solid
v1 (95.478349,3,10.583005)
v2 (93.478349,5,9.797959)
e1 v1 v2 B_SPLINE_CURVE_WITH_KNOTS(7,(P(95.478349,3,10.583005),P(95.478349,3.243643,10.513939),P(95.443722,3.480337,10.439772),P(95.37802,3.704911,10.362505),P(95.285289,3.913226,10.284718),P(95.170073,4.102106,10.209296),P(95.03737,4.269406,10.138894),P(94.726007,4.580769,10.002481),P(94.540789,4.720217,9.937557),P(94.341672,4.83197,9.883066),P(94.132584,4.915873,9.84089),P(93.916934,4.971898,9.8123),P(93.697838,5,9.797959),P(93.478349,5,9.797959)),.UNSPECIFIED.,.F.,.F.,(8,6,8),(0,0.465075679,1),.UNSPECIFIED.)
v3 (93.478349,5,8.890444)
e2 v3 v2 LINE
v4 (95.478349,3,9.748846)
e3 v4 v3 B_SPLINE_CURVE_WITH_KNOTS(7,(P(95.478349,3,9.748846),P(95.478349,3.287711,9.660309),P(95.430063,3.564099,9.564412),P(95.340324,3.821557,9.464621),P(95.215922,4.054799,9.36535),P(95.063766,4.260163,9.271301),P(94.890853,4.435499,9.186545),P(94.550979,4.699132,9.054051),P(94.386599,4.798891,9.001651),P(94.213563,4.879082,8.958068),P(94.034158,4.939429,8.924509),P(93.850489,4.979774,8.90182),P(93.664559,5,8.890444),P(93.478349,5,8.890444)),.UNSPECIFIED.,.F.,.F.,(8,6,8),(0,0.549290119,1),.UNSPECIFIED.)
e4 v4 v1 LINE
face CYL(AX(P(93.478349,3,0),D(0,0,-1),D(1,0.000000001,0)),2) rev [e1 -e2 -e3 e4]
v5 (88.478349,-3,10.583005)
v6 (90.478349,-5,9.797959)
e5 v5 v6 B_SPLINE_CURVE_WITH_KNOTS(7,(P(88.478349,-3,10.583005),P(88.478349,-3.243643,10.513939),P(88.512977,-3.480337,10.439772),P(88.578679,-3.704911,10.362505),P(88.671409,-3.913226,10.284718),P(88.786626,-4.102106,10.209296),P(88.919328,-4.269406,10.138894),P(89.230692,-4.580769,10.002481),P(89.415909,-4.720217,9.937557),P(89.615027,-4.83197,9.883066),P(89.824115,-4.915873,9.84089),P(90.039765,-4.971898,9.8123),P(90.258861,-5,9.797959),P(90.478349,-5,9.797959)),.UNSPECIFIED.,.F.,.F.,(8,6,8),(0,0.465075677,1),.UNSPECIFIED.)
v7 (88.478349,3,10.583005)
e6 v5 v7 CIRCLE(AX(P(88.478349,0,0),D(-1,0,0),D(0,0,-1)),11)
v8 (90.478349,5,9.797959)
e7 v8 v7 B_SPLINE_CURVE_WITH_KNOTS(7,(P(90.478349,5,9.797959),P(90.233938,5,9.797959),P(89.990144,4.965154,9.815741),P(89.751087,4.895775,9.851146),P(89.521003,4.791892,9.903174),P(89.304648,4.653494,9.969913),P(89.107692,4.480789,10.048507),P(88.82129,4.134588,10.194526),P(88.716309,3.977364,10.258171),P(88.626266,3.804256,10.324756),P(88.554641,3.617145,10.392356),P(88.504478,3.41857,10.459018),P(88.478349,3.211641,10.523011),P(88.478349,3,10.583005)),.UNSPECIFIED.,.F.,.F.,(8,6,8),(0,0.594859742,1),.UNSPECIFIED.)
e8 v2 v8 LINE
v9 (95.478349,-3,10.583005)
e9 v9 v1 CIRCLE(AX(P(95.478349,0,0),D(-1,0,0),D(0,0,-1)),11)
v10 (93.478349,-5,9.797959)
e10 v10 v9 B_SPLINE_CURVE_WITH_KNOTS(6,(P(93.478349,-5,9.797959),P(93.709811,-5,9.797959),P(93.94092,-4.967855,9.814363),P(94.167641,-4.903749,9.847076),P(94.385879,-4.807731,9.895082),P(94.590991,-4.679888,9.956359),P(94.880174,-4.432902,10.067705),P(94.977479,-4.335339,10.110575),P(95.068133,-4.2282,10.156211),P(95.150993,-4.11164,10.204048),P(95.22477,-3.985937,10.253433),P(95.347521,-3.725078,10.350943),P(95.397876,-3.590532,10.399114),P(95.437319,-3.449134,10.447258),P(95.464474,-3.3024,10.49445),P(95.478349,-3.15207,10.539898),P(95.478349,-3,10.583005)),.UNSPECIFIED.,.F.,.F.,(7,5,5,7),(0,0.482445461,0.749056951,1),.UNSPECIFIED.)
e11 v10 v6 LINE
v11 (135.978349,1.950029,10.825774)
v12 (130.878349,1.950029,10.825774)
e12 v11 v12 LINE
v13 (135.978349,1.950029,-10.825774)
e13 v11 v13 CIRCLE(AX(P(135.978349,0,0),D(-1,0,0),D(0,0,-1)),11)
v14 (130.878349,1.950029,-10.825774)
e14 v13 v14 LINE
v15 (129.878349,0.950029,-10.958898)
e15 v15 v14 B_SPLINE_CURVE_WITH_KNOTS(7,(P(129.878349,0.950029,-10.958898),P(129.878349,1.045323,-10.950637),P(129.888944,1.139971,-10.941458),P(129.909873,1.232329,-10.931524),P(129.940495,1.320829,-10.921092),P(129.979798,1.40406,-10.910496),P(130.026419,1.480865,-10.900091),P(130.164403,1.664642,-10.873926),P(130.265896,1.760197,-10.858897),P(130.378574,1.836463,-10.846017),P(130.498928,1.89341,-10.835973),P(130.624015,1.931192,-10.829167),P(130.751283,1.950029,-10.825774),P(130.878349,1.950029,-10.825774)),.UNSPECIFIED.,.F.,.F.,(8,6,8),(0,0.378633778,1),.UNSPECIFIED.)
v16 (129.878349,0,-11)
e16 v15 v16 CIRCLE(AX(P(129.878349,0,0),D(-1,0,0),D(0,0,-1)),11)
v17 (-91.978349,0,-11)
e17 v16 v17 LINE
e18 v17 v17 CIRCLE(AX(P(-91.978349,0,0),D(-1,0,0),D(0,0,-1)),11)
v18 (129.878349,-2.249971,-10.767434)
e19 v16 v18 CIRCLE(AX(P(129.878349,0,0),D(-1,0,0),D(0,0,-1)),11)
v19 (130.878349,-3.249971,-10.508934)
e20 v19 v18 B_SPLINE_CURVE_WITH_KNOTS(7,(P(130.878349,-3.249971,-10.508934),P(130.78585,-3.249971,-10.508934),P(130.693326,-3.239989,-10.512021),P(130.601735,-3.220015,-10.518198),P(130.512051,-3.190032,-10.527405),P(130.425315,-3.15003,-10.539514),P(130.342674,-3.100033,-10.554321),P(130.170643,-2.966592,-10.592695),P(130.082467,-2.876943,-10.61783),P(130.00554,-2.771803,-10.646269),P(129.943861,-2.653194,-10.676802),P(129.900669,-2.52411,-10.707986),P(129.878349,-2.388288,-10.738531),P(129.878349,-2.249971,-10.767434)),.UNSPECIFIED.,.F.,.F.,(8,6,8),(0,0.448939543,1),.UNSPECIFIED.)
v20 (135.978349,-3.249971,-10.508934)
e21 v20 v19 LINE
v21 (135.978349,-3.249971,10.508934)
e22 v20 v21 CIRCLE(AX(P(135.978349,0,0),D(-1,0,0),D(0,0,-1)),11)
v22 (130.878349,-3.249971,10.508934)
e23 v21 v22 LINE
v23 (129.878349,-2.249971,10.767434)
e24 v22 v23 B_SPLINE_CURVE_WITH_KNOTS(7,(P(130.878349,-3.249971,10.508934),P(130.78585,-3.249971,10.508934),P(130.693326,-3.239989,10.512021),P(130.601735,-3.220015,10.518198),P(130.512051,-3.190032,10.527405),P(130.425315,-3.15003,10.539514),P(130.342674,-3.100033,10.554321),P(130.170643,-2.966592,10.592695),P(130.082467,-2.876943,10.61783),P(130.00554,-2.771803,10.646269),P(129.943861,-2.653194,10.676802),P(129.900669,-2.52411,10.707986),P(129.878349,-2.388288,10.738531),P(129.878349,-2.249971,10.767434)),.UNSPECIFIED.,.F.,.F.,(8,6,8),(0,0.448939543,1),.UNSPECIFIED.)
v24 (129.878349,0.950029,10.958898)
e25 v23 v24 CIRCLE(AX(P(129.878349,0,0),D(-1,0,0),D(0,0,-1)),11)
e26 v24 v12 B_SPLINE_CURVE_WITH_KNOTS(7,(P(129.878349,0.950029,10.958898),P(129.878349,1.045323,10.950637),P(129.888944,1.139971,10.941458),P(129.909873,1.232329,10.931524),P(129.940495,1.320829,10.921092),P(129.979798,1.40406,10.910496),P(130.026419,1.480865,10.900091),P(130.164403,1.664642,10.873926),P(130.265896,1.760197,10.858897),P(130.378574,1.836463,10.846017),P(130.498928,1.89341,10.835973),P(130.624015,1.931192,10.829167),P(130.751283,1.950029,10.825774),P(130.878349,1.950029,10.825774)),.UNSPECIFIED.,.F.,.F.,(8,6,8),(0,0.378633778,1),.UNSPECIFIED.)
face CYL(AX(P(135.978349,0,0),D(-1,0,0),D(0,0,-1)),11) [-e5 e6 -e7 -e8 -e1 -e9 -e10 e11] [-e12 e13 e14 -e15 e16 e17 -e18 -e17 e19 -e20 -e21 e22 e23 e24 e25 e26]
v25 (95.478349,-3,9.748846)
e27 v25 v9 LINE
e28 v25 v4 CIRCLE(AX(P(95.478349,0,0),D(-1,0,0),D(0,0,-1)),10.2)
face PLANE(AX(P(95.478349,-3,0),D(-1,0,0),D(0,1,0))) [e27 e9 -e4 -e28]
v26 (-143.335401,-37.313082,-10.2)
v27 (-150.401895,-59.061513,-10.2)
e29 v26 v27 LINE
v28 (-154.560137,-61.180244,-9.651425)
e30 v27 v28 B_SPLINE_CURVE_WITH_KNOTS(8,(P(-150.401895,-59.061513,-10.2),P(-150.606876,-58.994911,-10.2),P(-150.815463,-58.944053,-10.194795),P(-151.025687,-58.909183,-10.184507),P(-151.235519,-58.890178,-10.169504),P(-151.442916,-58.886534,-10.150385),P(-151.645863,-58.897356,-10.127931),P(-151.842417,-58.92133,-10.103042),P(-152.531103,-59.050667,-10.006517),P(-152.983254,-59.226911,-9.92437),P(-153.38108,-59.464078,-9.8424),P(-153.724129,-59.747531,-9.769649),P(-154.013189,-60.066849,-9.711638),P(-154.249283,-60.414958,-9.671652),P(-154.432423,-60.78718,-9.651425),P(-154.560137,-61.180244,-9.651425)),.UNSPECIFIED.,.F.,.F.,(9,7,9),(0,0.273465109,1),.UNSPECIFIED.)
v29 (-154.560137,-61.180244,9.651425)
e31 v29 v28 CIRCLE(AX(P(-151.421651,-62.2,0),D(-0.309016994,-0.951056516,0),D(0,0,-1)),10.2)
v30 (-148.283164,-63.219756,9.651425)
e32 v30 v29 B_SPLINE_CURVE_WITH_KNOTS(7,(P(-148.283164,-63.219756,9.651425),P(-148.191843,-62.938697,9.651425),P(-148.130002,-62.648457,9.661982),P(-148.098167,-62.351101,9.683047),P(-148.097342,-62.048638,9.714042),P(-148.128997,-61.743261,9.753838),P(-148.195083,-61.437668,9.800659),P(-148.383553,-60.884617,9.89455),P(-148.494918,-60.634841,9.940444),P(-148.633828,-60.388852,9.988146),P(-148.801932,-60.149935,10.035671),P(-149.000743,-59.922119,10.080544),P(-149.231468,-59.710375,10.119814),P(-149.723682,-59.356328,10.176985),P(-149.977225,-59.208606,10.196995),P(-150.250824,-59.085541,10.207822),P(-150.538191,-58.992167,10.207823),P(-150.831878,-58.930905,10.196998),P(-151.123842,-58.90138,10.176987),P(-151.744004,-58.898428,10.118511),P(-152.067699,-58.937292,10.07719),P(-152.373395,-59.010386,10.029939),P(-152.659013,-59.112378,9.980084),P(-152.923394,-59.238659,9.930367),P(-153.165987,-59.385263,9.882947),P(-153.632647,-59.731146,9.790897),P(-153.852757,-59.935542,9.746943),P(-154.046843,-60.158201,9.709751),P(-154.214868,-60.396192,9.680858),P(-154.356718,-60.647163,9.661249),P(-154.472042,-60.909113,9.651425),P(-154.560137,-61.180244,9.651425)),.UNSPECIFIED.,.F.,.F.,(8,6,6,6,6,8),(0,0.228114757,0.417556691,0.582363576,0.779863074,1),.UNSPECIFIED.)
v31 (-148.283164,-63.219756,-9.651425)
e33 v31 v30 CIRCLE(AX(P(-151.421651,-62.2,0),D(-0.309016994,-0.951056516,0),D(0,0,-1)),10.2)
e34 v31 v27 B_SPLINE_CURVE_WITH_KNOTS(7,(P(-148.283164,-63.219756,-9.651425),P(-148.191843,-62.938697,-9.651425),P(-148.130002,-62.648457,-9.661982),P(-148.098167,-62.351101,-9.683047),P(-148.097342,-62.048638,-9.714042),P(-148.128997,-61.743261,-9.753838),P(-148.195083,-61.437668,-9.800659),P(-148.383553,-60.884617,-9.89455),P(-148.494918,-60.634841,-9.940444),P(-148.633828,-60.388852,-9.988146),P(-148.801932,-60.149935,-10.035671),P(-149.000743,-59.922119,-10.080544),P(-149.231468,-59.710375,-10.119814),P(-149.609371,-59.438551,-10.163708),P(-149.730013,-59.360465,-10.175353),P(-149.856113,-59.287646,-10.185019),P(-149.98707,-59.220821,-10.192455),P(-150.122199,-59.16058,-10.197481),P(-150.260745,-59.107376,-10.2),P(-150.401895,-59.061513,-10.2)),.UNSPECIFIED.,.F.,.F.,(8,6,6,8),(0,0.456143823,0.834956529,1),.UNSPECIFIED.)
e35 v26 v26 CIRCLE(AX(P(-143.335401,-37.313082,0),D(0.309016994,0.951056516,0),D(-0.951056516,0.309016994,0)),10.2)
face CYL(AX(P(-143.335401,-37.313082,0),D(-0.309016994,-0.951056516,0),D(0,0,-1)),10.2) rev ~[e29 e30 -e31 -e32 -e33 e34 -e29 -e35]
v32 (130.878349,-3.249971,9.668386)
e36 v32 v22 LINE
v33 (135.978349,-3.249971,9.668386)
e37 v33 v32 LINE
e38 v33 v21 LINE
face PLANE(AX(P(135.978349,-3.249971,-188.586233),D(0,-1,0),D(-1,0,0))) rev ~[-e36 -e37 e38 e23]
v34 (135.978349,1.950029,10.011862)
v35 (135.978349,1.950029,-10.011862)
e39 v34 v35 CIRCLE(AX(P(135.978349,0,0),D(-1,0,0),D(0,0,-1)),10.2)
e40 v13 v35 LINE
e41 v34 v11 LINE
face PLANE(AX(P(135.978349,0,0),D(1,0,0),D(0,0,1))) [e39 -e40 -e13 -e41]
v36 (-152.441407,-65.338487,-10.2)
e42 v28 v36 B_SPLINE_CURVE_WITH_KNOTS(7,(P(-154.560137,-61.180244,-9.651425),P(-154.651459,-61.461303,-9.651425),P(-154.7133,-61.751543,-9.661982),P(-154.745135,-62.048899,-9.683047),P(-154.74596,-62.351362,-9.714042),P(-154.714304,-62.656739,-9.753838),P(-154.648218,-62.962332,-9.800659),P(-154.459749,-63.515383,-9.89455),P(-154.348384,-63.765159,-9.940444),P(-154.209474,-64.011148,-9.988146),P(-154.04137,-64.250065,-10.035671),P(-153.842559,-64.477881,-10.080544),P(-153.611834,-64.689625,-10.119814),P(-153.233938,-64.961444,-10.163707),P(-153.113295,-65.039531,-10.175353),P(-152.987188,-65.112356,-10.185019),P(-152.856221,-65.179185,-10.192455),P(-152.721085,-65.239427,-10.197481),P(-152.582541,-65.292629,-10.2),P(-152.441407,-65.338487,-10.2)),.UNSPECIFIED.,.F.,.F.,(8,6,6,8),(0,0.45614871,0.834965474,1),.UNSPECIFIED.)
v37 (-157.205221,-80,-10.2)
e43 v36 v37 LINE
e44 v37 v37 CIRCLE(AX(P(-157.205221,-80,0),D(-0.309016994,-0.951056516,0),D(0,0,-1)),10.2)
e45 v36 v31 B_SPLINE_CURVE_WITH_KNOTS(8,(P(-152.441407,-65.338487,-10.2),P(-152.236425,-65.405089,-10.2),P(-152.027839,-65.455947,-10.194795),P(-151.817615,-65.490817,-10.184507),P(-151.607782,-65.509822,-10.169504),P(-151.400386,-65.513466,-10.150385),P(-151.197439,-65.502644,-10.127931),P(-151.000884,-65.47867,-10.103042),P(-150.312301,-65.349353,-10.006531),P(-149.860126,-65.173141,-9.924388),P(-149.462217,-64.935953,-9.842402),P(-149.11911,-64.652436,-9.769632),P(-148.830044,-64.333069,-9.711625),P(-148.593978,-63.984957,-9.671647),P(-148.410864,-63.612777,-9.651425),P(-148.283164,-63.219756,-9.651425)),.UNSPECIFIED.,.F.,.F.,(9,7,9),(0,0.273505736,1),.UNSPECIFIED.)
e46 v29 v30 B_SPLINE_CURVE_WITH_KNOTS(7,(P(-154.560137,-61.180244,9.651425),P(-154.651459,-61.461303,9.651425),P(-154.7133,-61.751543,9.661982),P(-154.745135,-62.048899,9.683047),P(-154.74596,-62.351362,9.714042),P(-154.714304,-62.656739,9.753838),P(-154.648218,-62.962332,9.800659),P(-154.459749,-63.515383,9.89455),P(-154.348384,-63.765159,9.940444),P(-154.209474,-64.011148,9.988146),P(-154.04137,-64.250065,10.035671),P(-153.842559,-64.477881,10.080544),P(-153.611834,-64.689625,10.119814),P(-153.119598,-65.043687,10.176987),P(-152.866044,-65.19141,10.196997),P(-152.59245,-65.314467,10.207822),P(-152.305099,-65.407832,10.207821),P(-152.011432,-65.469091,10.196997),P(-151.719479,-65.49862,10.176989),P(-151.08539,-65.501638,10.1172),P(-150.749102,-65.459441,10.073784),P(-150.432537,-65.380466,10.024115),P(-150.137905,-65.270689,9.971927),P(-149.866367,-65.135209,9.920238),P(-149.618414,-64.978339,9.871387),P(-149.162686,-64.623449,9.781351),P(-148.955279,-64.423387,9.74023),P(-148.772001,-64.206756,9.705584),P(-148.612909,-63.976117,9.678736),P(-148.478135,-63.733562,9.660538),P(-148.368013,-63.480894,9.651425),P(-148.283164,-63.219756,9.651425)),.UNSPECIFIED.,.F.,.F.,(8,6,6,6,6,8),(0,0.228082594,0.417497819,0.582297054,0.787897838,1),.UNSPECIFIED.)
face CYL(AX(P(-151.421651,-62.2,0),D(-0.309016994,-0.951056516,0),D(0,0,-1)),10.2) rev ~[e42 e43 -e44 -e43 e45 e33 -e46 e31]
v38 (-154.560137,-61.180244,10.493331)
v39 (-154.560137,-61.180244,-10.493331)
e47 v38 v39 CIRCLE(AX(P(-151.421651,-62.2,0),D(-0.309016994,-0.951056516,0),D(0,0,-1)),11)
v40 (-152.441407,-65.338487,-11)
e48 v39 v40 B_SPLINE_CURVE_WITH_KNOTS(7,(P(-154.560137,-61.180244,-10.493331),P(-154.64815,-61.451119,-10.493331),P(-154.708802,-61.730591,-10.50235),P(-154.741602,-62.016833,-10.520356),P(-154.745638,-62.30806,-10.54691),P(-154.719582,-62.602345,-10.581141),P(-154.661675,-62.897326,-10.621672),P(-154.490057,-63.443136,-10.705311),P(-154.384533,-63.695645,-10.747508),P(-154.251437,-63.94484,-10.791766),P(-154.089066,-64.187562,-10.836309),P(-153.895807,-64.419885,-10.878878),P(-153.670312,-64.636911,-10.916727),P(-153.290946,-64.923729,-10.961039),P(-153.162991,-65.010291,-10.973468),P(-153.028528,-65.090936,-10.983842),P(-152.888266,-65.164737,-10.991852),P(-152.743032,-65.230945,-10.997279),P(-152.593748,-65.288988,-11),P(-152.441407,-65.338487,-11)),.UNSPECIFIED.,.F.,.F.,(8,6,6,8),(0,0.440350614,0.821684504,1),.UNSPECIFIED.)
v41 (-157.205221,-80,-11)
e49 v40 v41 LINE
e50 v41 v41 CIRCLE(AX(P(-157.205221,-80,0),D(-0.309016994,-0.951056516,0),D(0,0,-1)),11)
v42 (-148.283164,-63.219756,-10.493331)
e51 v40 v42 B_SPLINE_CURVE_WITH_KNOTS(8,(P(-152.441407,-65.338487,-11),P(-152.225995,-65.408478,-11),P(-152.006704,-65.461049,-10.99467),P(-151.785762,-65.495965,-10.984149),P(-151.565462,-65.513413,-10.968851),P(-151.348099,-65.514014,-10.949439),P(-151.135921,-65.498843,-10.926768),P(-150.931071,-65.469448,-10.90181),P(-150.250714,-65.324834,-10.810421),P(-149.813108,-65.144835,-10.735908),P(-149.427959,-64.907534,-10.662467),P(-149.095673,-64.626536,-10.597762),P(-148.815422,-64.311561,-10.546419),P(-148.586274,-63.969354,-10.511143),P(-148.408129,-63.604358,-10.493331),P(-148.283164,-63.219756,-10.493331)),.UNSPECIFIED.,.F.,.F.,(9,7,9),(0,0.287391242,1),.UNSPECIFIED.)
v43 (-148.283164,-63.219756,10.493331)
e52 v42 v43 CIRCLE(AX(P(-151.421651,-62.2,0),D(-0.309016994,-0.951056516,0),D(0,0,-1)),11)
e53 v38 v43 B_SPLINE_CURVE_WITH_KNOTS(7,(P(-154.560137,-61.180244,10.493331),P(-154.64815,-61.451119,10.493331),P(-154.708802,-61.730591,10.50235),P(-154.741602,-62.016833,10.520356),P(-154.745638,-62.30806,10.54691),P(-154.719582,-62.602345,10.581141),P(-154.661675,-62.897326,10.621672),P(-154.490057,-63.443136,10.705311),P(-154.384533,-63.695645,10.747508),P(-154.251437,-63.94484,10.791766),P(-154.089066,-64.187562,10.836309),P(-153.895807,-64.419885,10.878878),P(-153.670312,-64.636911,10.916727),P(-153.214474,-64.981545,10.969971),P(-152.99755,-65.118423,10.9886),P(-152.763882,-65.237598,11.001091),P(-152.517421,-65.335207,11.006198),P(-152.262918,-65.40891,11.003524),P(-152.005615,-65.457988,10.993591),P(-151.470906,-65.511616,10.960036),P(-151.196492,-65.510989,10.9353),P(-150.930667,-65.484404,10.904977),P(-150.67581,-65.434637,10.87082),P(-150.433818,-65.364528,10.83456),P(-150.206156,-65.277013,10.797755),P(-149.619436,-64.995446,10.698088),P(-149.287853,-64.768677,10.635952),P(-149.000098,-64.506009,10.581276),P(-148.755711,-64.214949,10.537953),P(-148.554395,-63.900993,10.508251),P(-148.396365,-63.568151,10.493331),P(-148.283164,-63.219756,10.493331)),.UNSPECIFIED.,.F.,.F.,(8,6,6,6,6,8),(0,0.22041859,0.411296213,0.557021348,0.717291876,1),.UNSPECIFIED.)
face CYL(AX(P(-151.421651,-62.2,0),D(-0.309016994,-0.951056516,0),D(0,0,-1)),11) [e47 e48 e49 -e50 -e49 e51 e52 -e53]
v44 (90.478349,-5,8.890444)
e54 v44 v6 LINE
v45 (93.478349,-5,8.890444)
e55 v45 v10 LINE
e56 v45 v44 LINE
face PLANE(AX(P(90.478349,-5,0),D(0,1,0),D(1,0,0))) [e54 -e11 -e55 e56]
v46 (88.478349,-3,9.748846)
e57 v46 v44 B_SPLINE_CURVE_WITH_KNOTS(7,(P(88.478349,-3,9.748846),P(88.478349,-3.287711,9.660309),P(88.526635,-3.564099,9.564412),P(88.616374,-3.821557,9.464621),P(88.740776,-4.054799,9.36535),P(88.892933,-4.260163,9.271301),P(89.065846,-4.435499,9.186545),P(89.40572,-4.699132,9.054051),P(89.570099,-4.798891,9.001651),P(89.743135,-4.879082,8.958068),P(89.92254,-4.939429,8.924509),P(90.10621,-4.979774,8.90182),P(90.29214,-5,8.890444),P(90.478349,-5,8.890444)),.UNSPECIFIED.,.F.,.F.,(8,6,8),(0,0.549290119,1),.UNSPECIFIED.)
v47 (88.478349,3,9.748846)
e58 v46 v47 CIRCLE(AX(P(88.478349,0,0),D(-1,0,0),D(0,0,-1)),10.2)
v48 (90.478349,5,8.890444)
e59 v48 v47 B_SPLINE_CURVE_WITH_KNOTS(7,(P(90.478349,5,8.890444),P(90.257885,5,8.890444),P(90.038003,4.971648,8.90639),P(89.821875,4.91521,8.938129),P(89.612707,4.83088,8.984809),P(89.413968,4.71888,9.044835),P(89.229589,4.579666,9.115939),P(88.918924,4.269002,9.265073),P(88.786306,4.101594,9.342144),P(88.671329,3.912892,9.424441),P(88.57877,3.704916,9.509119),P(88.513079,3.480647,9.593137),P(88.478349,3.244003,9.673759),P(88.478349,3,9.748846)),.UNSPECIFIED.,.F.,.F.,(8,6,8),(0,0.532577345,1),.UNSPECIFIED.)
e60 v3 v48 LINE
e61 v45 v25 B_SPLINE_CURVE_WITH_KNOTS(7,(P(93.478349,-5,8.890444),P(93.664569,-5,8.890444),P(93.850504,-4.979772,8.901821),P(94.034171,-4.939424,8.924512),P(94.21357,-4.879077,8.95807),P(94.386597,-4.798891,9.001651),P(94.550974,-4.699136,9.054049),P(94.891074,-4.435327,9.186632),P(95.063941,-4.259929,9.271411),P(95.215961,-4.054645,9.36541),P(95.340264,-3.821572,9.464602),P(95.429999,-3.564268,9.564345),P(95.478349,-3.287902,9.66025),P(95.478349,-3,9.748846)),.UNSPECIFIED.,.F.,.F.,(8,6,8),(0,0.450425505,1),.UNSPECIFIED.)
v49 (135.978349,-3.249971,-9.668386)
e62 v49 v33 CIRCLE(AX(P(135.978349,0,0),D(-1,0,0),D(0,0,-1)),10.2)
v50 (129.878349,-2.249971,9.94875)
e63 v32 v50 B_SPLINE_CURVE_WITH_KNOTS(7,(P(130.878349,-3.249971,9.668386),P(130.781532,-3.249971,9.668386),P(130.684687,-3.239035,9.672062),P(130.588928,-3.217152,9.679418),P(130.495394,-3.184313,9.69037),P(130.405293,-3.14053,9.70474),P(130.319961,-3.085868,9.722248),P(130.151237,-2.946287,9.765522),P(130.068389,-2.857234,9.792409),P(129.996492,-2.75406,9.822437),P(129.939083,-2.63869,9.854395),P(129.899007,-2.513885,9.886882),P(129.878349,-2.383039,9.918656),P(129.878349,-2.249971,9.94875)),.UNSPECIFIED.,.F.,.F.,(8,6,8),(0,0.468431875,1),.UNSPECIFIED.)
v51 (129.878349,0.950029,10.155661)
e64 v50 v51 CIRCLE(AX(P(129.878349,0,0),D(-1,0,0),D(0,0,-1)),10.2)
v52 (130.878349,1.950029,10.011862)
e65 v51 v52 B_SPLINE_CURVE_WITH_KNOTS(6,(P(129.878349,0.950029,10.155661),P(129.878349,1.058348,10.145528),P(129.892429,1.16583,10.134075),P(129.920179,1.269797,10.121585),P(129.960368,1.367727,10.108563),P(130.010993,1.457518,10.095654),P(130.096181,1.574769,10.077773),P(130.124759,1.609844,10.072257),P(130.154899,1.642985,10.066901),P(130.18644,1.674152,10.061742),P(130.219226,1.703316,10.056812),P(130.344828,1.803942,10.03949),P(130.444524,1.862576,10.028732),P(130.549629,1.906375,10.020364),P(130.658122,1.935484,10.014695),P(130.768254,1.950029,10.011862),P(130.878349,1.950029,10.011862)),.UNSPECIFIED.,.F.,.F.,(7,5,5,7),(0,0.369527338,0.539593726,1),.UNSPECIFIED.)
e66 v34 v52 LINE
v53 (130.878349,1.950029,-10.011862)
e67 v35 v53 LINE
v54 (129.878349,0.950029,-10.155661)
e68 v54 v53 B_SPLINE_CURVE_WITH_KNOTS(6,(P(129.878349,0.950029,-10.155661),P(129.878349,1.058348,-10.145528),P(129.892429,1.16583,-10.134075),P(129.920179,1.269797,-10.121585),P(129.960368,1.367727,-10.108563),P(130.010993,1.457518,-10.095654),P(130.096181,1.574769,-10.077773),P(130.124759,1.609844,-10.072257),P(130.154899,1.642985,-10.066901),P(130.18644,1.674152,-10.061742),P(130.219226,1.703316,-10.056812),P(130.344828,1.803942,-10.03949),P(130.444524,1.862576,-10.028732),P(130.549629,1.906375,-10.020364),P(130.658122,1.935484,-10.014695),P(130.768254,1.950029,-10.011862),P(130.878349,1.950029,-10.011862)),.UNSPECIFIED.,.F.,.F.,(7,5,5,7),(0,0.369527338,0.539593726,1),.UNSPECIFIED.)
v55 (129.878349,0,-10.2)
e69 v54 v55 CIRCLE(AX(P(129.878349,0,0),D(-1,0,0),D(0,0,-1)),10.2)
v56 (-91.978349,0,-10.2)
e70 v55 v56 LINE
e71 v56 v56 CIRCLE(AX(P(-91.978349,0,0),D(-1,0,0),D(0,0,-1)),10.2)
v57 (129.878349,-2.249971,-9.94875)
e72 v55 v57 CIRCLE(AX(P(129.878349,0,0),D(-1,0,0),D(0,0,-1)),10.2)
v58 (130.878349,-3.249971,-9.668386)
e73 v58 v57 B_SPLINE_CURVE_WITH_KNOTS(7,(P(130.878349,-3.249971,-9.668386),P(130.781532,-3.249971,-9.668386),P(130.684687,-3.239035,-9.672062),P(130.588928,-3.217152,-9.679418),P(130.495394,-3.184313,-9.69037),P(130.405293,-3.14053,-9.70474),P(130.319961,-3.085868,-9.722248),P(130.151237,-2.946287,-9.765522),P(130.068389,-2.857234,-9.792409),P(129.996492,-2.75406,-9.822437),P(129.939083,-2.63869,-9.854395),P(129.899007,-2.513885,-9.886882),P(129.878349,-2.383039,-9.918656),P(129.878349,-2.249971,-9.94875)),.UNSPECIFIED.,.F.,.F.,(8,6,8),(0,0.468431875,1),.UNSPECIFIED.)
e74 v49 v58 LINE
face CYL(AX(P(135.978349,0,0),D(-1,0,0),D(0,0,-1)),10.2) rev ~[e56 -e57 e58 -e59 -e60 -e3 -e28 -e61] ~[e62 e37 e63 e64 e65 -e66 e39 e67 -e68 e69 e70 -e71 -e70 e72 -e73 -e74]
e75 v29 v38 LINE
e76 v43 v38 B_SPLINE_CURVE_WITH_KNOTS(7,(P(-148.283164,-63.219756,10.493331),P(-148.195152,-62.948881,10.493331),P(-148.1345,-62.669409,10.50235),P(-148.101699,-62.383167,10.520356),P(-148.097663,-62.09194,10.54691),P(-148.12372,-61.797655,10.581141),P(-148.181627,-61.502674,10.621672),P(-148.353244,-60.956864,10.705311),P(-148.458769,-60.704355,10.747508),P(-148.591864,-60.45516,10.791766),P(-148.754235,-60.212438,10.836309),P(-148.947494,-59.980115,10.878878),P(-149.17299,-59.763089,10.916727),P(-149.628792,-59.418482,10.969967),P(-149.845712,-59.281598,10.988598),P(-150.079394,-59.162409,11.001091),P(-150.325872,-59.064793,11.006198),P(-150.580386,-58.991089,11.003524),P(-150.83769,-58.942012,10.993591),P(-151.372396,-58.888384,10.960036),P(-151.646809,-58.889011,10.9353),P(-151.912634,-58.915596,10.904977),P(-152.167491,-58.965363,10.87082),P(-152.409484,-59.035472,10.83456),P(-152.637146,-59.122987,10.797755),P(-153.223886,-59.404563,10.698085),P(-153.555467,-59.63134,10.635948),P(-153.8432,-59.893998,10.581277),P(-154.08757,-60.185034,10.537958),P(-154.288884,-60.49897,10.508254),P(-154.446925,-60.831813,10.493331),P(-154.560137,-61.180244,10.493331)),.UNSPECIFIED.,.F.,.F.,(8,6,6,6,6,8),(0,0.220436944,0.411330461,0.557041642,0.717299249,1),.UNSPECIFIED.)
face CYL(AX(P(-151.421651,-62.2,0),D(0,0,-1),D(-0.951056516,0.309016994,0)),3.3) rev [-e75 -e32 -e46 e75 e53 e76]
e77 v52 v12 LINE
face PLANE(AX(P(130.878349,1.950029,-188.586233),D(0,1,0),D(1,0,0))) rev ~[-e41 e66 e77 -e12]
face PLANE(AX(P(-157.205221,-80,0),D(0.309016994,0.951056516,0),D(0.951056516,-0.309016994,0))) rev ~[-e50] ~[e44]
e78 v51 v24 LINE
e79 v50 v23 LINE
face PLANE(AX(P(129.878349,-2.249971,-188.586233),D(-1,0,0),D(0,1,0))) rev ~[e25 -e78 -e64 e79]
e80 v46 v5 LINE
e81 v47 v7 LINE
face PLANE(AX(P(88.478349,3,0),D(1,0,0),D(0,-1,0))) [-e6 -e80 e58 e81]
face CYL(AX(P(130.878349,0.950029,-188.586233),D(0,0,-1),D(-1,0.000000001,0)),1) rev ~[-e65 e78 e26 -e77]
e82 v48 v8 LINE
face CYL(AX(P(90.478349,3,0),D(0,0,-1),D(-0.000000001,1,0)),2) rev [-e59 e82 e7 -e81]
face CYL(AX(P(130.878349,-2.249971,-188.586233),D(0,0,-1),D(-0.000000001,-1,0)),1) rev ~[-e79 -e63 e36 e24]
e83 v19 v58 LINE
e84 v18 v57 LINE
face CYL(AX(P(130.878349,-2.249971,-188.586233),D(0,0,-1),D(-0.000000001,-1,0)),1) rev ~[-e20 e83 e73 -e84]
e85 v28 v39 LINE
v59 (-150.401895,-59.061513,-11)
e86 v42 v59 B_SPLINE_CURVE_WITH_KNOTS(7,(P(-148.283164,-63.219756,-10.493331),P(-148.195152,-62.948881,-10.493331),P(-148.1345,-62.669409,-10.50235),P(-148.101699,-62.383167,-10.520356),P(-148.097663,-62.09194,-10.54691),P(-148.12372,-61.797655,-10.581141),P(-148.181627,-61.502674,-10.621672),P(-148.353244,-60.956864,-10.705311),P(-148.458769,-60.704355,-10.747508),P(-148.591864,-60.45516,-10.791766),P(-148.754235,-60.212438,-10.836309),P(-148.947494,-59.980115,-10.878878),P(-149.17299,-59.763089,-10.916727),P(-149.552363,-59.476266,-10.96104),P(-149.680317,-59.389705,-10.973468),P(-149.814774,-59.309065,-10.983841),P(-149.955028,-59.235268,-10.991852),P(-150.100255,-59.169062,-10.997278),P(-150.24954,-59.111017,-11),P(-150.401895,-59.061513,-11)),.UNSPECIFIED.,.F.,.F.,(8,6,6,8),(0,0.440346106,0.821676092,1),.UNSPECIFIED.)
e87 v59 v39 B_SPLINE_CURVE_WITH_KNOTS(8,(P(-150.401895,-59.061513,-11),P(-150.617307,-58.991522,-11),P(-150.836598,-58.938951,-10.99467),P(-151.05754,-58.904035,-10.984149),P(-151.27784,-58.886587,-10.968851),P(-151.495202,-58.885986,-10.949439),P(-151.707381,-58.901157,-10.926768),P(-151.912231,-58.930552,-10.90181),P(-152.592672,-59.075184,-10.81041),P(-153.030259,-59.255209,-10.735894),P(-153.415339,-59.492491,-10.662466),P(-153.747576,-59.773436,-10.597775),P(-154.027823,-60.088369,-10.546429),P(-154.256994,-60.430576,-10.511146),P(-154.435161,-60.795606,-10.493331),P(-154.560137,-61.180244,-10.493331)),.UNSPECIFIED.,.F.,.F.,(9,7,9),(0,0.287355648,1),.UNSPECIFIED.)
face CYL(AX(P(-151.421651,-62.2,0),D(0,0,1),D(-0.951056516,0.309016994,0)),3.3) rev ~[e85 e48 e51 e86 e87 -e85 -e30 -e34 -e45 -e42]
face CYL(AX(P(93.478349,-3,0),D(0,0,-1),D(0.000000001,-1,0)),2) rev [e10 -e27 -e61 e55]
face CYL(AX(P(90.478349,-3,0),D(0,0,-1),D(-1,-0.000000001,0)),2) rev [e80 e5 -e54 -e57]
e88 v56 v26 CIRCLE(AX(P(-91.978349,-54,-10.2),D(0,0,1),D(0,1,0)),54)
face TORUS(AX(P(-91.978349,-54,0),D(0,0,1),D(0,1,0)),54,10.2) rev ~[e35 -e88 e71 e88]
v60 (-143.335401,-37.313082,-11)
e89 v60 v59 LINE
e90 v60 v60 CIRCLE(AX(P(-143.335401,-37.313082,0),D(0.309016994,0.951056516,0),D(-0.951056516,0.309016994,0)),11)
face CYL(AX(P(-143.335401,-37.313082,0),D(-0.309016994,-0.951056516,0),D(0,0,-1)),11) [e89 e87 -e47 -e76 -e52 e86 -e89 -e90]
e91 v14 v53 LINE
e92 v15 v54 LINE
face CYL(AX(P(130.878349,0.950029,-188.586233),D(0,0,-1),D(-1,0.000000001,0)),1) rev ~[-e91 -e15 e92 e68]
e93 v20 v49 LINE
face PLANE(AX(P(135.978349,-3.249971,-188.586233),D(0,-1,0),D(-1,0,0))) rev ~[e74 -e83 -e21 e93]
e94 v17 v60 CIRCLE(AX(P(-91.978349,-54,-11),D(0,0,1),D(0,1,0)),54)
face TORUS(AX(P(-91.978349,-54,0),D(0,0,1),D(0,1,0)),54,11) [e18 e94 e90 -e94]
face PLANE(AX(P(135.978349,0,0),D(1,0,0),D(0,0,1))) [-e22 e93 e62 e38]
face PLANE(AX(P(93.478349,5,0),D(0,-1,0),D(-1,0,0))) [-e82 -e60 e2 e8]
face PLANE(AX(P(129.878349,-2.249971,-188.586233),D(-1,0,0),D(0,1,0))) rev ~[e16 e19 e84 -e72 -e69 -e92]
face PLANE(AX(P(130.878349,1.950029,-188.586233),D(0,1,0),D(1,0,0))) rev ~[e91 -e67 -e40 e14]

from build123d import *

# Parameters (mm, degrees)
SKETCH3_R               = 11
SKETCH3_R_2             = 10.2
CUT_EXTRUDE1_REACH      = 189.586
SKETCH4_R               = 3.3
SKETCH5_R               = 3.3
CUT_EXTRUDE2_DEPTH      = 188.586232712
CUT_EXTRUDE3_DEPTH      = 188.586232712
CUT_EXTRUDE3_DEPTH_BACK = 188.586232712


with BuildPart() as part:
    # Sweep2: sweep along a path in Sketch1
    with BuildLine(Plane.XY) as sweep2_path:
        Line((135.978349191, 0), (91.978349191, 0))
        Line((91.978349191, 0), (-91.978349191, 0))
        ThreePointArc((-91.978349191, 0), (-123.718752815, -10.313082304), (-143.335401071, -37.313082304))
        Line((-143.335401071, -37.313082304), (-151.421650809, -62.2))
        Line((-151.421650809, -62.2), (-157.205221402, -80))
    # Sketch3 → Sweep2 (sweep)
    with BuildSketch(Plane(origin=(91.978349191, 0, 0), x_dir=(0, 0, -1), z_dir=(1, 0, 0))):
        Circle(SKETCH3_R)
        Circle(SKETCH3_R_2, mode=Mode.SUBTRACT)
    sweep(path=sweep2_path.line)

    # Sketch4 → Cut-Extrude1 (cut, up to next)
    with BuildSketch(Plane.XY, mode=Mode.PRIVATE) as cut_extrude1_sk1:
        with Locations((-151.421650809, -62.2)):
            Circle(SKETCH4_R)
    cut_extrude1_tool1 = extrude(cut_extrude1_sk1.sketch, amount=CUT_EXTRUDE1_REACH, mode=Mode.PRIVATE) & part.part
    # Sketch4 → Cut-Extrude1 (cut, up to next)
    with BuildSketch(Plane.XY, mode=Mode.PRIVATE) as cut_extrude1_sk2:
        with BuildLine():
            Line((90.478349191, -5), (93.478349191, -5))
            ThreePointArc((93.478349191, -5), (94.892562753, -4.414213562), (95.478349191, -3))
            Line((95.478349191, -3), (95.478349191, 3))
            ThreePointArc((95.478349191, 3), (94.892562753, 4.414213562), (93.478349191, 5))
            Line((93.478349191, 5), (90.478349191, 5))
            ThreePointArc((90.478349191, 5), (89.064135629, 4.414213562), (88.478349191, 3))
            Line((88.478349191, 3), (88.478349191, -3))
            ThreePointArc((88.478349191, -3), (89.064135629, -4.414213562), (90.478349191, -5))
        make_face()
    cut_extrude1_tool2 = extrude(cut_extrude1_sk2.sketch, amount=CUT_EXTRUDE1_REACH, mode=Mode.PRIVATE) & part.part
    add(cut_extrude1_tool1.solids().sort_by_distance((-151.421651, -62.2, 0))[0], mode=Mode.SUBTRACT)
    add(cut_extrude1_tool2.solids().sort_by_distance((91.978349, 0, 0))[0], mode=Mode.SUBTRACT)

    # Sketch5 → Cut-Extrude2 (cut, through all)
    with BuildSketch(Plane.XY):
        with Locations((-151.421650809, -62.2)):
            Circle(SKETCH5_R)
    extrude(amount=-CUT_EXTRUDE2_DEPTH, mode=Mode.SUBTRACT)

    # Sketch6 → Cut-Extrude3 (cut, two sides: drawn at the far end of the back side and taken through both)
    with BuildSketch(Plane.XY.offset(-CUT_EXTRUDE3_DEPTH_BACK)):
        with BuildLine():
            Line((135.978349191, 1.950029185), (135.978349191, -3.249970815))
            Line((135.978349191, -3.249970815), (130.878349191, -3.249970815))
            ThreePointArc((130.878349191, -3.249970815), (130.17124241, -2.957077596), (129.878349191, -2.249970815))
            Line((129.878349191, -2.249970815), (129.878349191, 0.950029185))
            ThreePointArc((129.878349191, 0.950029185), (130.17124241, 1.657135966), (130.878349191, 1.950029185))
            Line((130.878349191, 1.950029185), (135.978349191, 1.950029185))
        make_face()
    extrude(amount=CUT_EXTRUDE3_DEPTH + CUT_EXTRUDE3_DEPTH_BACK, mode=Mode.SUBTRACT)


solid = part.part
